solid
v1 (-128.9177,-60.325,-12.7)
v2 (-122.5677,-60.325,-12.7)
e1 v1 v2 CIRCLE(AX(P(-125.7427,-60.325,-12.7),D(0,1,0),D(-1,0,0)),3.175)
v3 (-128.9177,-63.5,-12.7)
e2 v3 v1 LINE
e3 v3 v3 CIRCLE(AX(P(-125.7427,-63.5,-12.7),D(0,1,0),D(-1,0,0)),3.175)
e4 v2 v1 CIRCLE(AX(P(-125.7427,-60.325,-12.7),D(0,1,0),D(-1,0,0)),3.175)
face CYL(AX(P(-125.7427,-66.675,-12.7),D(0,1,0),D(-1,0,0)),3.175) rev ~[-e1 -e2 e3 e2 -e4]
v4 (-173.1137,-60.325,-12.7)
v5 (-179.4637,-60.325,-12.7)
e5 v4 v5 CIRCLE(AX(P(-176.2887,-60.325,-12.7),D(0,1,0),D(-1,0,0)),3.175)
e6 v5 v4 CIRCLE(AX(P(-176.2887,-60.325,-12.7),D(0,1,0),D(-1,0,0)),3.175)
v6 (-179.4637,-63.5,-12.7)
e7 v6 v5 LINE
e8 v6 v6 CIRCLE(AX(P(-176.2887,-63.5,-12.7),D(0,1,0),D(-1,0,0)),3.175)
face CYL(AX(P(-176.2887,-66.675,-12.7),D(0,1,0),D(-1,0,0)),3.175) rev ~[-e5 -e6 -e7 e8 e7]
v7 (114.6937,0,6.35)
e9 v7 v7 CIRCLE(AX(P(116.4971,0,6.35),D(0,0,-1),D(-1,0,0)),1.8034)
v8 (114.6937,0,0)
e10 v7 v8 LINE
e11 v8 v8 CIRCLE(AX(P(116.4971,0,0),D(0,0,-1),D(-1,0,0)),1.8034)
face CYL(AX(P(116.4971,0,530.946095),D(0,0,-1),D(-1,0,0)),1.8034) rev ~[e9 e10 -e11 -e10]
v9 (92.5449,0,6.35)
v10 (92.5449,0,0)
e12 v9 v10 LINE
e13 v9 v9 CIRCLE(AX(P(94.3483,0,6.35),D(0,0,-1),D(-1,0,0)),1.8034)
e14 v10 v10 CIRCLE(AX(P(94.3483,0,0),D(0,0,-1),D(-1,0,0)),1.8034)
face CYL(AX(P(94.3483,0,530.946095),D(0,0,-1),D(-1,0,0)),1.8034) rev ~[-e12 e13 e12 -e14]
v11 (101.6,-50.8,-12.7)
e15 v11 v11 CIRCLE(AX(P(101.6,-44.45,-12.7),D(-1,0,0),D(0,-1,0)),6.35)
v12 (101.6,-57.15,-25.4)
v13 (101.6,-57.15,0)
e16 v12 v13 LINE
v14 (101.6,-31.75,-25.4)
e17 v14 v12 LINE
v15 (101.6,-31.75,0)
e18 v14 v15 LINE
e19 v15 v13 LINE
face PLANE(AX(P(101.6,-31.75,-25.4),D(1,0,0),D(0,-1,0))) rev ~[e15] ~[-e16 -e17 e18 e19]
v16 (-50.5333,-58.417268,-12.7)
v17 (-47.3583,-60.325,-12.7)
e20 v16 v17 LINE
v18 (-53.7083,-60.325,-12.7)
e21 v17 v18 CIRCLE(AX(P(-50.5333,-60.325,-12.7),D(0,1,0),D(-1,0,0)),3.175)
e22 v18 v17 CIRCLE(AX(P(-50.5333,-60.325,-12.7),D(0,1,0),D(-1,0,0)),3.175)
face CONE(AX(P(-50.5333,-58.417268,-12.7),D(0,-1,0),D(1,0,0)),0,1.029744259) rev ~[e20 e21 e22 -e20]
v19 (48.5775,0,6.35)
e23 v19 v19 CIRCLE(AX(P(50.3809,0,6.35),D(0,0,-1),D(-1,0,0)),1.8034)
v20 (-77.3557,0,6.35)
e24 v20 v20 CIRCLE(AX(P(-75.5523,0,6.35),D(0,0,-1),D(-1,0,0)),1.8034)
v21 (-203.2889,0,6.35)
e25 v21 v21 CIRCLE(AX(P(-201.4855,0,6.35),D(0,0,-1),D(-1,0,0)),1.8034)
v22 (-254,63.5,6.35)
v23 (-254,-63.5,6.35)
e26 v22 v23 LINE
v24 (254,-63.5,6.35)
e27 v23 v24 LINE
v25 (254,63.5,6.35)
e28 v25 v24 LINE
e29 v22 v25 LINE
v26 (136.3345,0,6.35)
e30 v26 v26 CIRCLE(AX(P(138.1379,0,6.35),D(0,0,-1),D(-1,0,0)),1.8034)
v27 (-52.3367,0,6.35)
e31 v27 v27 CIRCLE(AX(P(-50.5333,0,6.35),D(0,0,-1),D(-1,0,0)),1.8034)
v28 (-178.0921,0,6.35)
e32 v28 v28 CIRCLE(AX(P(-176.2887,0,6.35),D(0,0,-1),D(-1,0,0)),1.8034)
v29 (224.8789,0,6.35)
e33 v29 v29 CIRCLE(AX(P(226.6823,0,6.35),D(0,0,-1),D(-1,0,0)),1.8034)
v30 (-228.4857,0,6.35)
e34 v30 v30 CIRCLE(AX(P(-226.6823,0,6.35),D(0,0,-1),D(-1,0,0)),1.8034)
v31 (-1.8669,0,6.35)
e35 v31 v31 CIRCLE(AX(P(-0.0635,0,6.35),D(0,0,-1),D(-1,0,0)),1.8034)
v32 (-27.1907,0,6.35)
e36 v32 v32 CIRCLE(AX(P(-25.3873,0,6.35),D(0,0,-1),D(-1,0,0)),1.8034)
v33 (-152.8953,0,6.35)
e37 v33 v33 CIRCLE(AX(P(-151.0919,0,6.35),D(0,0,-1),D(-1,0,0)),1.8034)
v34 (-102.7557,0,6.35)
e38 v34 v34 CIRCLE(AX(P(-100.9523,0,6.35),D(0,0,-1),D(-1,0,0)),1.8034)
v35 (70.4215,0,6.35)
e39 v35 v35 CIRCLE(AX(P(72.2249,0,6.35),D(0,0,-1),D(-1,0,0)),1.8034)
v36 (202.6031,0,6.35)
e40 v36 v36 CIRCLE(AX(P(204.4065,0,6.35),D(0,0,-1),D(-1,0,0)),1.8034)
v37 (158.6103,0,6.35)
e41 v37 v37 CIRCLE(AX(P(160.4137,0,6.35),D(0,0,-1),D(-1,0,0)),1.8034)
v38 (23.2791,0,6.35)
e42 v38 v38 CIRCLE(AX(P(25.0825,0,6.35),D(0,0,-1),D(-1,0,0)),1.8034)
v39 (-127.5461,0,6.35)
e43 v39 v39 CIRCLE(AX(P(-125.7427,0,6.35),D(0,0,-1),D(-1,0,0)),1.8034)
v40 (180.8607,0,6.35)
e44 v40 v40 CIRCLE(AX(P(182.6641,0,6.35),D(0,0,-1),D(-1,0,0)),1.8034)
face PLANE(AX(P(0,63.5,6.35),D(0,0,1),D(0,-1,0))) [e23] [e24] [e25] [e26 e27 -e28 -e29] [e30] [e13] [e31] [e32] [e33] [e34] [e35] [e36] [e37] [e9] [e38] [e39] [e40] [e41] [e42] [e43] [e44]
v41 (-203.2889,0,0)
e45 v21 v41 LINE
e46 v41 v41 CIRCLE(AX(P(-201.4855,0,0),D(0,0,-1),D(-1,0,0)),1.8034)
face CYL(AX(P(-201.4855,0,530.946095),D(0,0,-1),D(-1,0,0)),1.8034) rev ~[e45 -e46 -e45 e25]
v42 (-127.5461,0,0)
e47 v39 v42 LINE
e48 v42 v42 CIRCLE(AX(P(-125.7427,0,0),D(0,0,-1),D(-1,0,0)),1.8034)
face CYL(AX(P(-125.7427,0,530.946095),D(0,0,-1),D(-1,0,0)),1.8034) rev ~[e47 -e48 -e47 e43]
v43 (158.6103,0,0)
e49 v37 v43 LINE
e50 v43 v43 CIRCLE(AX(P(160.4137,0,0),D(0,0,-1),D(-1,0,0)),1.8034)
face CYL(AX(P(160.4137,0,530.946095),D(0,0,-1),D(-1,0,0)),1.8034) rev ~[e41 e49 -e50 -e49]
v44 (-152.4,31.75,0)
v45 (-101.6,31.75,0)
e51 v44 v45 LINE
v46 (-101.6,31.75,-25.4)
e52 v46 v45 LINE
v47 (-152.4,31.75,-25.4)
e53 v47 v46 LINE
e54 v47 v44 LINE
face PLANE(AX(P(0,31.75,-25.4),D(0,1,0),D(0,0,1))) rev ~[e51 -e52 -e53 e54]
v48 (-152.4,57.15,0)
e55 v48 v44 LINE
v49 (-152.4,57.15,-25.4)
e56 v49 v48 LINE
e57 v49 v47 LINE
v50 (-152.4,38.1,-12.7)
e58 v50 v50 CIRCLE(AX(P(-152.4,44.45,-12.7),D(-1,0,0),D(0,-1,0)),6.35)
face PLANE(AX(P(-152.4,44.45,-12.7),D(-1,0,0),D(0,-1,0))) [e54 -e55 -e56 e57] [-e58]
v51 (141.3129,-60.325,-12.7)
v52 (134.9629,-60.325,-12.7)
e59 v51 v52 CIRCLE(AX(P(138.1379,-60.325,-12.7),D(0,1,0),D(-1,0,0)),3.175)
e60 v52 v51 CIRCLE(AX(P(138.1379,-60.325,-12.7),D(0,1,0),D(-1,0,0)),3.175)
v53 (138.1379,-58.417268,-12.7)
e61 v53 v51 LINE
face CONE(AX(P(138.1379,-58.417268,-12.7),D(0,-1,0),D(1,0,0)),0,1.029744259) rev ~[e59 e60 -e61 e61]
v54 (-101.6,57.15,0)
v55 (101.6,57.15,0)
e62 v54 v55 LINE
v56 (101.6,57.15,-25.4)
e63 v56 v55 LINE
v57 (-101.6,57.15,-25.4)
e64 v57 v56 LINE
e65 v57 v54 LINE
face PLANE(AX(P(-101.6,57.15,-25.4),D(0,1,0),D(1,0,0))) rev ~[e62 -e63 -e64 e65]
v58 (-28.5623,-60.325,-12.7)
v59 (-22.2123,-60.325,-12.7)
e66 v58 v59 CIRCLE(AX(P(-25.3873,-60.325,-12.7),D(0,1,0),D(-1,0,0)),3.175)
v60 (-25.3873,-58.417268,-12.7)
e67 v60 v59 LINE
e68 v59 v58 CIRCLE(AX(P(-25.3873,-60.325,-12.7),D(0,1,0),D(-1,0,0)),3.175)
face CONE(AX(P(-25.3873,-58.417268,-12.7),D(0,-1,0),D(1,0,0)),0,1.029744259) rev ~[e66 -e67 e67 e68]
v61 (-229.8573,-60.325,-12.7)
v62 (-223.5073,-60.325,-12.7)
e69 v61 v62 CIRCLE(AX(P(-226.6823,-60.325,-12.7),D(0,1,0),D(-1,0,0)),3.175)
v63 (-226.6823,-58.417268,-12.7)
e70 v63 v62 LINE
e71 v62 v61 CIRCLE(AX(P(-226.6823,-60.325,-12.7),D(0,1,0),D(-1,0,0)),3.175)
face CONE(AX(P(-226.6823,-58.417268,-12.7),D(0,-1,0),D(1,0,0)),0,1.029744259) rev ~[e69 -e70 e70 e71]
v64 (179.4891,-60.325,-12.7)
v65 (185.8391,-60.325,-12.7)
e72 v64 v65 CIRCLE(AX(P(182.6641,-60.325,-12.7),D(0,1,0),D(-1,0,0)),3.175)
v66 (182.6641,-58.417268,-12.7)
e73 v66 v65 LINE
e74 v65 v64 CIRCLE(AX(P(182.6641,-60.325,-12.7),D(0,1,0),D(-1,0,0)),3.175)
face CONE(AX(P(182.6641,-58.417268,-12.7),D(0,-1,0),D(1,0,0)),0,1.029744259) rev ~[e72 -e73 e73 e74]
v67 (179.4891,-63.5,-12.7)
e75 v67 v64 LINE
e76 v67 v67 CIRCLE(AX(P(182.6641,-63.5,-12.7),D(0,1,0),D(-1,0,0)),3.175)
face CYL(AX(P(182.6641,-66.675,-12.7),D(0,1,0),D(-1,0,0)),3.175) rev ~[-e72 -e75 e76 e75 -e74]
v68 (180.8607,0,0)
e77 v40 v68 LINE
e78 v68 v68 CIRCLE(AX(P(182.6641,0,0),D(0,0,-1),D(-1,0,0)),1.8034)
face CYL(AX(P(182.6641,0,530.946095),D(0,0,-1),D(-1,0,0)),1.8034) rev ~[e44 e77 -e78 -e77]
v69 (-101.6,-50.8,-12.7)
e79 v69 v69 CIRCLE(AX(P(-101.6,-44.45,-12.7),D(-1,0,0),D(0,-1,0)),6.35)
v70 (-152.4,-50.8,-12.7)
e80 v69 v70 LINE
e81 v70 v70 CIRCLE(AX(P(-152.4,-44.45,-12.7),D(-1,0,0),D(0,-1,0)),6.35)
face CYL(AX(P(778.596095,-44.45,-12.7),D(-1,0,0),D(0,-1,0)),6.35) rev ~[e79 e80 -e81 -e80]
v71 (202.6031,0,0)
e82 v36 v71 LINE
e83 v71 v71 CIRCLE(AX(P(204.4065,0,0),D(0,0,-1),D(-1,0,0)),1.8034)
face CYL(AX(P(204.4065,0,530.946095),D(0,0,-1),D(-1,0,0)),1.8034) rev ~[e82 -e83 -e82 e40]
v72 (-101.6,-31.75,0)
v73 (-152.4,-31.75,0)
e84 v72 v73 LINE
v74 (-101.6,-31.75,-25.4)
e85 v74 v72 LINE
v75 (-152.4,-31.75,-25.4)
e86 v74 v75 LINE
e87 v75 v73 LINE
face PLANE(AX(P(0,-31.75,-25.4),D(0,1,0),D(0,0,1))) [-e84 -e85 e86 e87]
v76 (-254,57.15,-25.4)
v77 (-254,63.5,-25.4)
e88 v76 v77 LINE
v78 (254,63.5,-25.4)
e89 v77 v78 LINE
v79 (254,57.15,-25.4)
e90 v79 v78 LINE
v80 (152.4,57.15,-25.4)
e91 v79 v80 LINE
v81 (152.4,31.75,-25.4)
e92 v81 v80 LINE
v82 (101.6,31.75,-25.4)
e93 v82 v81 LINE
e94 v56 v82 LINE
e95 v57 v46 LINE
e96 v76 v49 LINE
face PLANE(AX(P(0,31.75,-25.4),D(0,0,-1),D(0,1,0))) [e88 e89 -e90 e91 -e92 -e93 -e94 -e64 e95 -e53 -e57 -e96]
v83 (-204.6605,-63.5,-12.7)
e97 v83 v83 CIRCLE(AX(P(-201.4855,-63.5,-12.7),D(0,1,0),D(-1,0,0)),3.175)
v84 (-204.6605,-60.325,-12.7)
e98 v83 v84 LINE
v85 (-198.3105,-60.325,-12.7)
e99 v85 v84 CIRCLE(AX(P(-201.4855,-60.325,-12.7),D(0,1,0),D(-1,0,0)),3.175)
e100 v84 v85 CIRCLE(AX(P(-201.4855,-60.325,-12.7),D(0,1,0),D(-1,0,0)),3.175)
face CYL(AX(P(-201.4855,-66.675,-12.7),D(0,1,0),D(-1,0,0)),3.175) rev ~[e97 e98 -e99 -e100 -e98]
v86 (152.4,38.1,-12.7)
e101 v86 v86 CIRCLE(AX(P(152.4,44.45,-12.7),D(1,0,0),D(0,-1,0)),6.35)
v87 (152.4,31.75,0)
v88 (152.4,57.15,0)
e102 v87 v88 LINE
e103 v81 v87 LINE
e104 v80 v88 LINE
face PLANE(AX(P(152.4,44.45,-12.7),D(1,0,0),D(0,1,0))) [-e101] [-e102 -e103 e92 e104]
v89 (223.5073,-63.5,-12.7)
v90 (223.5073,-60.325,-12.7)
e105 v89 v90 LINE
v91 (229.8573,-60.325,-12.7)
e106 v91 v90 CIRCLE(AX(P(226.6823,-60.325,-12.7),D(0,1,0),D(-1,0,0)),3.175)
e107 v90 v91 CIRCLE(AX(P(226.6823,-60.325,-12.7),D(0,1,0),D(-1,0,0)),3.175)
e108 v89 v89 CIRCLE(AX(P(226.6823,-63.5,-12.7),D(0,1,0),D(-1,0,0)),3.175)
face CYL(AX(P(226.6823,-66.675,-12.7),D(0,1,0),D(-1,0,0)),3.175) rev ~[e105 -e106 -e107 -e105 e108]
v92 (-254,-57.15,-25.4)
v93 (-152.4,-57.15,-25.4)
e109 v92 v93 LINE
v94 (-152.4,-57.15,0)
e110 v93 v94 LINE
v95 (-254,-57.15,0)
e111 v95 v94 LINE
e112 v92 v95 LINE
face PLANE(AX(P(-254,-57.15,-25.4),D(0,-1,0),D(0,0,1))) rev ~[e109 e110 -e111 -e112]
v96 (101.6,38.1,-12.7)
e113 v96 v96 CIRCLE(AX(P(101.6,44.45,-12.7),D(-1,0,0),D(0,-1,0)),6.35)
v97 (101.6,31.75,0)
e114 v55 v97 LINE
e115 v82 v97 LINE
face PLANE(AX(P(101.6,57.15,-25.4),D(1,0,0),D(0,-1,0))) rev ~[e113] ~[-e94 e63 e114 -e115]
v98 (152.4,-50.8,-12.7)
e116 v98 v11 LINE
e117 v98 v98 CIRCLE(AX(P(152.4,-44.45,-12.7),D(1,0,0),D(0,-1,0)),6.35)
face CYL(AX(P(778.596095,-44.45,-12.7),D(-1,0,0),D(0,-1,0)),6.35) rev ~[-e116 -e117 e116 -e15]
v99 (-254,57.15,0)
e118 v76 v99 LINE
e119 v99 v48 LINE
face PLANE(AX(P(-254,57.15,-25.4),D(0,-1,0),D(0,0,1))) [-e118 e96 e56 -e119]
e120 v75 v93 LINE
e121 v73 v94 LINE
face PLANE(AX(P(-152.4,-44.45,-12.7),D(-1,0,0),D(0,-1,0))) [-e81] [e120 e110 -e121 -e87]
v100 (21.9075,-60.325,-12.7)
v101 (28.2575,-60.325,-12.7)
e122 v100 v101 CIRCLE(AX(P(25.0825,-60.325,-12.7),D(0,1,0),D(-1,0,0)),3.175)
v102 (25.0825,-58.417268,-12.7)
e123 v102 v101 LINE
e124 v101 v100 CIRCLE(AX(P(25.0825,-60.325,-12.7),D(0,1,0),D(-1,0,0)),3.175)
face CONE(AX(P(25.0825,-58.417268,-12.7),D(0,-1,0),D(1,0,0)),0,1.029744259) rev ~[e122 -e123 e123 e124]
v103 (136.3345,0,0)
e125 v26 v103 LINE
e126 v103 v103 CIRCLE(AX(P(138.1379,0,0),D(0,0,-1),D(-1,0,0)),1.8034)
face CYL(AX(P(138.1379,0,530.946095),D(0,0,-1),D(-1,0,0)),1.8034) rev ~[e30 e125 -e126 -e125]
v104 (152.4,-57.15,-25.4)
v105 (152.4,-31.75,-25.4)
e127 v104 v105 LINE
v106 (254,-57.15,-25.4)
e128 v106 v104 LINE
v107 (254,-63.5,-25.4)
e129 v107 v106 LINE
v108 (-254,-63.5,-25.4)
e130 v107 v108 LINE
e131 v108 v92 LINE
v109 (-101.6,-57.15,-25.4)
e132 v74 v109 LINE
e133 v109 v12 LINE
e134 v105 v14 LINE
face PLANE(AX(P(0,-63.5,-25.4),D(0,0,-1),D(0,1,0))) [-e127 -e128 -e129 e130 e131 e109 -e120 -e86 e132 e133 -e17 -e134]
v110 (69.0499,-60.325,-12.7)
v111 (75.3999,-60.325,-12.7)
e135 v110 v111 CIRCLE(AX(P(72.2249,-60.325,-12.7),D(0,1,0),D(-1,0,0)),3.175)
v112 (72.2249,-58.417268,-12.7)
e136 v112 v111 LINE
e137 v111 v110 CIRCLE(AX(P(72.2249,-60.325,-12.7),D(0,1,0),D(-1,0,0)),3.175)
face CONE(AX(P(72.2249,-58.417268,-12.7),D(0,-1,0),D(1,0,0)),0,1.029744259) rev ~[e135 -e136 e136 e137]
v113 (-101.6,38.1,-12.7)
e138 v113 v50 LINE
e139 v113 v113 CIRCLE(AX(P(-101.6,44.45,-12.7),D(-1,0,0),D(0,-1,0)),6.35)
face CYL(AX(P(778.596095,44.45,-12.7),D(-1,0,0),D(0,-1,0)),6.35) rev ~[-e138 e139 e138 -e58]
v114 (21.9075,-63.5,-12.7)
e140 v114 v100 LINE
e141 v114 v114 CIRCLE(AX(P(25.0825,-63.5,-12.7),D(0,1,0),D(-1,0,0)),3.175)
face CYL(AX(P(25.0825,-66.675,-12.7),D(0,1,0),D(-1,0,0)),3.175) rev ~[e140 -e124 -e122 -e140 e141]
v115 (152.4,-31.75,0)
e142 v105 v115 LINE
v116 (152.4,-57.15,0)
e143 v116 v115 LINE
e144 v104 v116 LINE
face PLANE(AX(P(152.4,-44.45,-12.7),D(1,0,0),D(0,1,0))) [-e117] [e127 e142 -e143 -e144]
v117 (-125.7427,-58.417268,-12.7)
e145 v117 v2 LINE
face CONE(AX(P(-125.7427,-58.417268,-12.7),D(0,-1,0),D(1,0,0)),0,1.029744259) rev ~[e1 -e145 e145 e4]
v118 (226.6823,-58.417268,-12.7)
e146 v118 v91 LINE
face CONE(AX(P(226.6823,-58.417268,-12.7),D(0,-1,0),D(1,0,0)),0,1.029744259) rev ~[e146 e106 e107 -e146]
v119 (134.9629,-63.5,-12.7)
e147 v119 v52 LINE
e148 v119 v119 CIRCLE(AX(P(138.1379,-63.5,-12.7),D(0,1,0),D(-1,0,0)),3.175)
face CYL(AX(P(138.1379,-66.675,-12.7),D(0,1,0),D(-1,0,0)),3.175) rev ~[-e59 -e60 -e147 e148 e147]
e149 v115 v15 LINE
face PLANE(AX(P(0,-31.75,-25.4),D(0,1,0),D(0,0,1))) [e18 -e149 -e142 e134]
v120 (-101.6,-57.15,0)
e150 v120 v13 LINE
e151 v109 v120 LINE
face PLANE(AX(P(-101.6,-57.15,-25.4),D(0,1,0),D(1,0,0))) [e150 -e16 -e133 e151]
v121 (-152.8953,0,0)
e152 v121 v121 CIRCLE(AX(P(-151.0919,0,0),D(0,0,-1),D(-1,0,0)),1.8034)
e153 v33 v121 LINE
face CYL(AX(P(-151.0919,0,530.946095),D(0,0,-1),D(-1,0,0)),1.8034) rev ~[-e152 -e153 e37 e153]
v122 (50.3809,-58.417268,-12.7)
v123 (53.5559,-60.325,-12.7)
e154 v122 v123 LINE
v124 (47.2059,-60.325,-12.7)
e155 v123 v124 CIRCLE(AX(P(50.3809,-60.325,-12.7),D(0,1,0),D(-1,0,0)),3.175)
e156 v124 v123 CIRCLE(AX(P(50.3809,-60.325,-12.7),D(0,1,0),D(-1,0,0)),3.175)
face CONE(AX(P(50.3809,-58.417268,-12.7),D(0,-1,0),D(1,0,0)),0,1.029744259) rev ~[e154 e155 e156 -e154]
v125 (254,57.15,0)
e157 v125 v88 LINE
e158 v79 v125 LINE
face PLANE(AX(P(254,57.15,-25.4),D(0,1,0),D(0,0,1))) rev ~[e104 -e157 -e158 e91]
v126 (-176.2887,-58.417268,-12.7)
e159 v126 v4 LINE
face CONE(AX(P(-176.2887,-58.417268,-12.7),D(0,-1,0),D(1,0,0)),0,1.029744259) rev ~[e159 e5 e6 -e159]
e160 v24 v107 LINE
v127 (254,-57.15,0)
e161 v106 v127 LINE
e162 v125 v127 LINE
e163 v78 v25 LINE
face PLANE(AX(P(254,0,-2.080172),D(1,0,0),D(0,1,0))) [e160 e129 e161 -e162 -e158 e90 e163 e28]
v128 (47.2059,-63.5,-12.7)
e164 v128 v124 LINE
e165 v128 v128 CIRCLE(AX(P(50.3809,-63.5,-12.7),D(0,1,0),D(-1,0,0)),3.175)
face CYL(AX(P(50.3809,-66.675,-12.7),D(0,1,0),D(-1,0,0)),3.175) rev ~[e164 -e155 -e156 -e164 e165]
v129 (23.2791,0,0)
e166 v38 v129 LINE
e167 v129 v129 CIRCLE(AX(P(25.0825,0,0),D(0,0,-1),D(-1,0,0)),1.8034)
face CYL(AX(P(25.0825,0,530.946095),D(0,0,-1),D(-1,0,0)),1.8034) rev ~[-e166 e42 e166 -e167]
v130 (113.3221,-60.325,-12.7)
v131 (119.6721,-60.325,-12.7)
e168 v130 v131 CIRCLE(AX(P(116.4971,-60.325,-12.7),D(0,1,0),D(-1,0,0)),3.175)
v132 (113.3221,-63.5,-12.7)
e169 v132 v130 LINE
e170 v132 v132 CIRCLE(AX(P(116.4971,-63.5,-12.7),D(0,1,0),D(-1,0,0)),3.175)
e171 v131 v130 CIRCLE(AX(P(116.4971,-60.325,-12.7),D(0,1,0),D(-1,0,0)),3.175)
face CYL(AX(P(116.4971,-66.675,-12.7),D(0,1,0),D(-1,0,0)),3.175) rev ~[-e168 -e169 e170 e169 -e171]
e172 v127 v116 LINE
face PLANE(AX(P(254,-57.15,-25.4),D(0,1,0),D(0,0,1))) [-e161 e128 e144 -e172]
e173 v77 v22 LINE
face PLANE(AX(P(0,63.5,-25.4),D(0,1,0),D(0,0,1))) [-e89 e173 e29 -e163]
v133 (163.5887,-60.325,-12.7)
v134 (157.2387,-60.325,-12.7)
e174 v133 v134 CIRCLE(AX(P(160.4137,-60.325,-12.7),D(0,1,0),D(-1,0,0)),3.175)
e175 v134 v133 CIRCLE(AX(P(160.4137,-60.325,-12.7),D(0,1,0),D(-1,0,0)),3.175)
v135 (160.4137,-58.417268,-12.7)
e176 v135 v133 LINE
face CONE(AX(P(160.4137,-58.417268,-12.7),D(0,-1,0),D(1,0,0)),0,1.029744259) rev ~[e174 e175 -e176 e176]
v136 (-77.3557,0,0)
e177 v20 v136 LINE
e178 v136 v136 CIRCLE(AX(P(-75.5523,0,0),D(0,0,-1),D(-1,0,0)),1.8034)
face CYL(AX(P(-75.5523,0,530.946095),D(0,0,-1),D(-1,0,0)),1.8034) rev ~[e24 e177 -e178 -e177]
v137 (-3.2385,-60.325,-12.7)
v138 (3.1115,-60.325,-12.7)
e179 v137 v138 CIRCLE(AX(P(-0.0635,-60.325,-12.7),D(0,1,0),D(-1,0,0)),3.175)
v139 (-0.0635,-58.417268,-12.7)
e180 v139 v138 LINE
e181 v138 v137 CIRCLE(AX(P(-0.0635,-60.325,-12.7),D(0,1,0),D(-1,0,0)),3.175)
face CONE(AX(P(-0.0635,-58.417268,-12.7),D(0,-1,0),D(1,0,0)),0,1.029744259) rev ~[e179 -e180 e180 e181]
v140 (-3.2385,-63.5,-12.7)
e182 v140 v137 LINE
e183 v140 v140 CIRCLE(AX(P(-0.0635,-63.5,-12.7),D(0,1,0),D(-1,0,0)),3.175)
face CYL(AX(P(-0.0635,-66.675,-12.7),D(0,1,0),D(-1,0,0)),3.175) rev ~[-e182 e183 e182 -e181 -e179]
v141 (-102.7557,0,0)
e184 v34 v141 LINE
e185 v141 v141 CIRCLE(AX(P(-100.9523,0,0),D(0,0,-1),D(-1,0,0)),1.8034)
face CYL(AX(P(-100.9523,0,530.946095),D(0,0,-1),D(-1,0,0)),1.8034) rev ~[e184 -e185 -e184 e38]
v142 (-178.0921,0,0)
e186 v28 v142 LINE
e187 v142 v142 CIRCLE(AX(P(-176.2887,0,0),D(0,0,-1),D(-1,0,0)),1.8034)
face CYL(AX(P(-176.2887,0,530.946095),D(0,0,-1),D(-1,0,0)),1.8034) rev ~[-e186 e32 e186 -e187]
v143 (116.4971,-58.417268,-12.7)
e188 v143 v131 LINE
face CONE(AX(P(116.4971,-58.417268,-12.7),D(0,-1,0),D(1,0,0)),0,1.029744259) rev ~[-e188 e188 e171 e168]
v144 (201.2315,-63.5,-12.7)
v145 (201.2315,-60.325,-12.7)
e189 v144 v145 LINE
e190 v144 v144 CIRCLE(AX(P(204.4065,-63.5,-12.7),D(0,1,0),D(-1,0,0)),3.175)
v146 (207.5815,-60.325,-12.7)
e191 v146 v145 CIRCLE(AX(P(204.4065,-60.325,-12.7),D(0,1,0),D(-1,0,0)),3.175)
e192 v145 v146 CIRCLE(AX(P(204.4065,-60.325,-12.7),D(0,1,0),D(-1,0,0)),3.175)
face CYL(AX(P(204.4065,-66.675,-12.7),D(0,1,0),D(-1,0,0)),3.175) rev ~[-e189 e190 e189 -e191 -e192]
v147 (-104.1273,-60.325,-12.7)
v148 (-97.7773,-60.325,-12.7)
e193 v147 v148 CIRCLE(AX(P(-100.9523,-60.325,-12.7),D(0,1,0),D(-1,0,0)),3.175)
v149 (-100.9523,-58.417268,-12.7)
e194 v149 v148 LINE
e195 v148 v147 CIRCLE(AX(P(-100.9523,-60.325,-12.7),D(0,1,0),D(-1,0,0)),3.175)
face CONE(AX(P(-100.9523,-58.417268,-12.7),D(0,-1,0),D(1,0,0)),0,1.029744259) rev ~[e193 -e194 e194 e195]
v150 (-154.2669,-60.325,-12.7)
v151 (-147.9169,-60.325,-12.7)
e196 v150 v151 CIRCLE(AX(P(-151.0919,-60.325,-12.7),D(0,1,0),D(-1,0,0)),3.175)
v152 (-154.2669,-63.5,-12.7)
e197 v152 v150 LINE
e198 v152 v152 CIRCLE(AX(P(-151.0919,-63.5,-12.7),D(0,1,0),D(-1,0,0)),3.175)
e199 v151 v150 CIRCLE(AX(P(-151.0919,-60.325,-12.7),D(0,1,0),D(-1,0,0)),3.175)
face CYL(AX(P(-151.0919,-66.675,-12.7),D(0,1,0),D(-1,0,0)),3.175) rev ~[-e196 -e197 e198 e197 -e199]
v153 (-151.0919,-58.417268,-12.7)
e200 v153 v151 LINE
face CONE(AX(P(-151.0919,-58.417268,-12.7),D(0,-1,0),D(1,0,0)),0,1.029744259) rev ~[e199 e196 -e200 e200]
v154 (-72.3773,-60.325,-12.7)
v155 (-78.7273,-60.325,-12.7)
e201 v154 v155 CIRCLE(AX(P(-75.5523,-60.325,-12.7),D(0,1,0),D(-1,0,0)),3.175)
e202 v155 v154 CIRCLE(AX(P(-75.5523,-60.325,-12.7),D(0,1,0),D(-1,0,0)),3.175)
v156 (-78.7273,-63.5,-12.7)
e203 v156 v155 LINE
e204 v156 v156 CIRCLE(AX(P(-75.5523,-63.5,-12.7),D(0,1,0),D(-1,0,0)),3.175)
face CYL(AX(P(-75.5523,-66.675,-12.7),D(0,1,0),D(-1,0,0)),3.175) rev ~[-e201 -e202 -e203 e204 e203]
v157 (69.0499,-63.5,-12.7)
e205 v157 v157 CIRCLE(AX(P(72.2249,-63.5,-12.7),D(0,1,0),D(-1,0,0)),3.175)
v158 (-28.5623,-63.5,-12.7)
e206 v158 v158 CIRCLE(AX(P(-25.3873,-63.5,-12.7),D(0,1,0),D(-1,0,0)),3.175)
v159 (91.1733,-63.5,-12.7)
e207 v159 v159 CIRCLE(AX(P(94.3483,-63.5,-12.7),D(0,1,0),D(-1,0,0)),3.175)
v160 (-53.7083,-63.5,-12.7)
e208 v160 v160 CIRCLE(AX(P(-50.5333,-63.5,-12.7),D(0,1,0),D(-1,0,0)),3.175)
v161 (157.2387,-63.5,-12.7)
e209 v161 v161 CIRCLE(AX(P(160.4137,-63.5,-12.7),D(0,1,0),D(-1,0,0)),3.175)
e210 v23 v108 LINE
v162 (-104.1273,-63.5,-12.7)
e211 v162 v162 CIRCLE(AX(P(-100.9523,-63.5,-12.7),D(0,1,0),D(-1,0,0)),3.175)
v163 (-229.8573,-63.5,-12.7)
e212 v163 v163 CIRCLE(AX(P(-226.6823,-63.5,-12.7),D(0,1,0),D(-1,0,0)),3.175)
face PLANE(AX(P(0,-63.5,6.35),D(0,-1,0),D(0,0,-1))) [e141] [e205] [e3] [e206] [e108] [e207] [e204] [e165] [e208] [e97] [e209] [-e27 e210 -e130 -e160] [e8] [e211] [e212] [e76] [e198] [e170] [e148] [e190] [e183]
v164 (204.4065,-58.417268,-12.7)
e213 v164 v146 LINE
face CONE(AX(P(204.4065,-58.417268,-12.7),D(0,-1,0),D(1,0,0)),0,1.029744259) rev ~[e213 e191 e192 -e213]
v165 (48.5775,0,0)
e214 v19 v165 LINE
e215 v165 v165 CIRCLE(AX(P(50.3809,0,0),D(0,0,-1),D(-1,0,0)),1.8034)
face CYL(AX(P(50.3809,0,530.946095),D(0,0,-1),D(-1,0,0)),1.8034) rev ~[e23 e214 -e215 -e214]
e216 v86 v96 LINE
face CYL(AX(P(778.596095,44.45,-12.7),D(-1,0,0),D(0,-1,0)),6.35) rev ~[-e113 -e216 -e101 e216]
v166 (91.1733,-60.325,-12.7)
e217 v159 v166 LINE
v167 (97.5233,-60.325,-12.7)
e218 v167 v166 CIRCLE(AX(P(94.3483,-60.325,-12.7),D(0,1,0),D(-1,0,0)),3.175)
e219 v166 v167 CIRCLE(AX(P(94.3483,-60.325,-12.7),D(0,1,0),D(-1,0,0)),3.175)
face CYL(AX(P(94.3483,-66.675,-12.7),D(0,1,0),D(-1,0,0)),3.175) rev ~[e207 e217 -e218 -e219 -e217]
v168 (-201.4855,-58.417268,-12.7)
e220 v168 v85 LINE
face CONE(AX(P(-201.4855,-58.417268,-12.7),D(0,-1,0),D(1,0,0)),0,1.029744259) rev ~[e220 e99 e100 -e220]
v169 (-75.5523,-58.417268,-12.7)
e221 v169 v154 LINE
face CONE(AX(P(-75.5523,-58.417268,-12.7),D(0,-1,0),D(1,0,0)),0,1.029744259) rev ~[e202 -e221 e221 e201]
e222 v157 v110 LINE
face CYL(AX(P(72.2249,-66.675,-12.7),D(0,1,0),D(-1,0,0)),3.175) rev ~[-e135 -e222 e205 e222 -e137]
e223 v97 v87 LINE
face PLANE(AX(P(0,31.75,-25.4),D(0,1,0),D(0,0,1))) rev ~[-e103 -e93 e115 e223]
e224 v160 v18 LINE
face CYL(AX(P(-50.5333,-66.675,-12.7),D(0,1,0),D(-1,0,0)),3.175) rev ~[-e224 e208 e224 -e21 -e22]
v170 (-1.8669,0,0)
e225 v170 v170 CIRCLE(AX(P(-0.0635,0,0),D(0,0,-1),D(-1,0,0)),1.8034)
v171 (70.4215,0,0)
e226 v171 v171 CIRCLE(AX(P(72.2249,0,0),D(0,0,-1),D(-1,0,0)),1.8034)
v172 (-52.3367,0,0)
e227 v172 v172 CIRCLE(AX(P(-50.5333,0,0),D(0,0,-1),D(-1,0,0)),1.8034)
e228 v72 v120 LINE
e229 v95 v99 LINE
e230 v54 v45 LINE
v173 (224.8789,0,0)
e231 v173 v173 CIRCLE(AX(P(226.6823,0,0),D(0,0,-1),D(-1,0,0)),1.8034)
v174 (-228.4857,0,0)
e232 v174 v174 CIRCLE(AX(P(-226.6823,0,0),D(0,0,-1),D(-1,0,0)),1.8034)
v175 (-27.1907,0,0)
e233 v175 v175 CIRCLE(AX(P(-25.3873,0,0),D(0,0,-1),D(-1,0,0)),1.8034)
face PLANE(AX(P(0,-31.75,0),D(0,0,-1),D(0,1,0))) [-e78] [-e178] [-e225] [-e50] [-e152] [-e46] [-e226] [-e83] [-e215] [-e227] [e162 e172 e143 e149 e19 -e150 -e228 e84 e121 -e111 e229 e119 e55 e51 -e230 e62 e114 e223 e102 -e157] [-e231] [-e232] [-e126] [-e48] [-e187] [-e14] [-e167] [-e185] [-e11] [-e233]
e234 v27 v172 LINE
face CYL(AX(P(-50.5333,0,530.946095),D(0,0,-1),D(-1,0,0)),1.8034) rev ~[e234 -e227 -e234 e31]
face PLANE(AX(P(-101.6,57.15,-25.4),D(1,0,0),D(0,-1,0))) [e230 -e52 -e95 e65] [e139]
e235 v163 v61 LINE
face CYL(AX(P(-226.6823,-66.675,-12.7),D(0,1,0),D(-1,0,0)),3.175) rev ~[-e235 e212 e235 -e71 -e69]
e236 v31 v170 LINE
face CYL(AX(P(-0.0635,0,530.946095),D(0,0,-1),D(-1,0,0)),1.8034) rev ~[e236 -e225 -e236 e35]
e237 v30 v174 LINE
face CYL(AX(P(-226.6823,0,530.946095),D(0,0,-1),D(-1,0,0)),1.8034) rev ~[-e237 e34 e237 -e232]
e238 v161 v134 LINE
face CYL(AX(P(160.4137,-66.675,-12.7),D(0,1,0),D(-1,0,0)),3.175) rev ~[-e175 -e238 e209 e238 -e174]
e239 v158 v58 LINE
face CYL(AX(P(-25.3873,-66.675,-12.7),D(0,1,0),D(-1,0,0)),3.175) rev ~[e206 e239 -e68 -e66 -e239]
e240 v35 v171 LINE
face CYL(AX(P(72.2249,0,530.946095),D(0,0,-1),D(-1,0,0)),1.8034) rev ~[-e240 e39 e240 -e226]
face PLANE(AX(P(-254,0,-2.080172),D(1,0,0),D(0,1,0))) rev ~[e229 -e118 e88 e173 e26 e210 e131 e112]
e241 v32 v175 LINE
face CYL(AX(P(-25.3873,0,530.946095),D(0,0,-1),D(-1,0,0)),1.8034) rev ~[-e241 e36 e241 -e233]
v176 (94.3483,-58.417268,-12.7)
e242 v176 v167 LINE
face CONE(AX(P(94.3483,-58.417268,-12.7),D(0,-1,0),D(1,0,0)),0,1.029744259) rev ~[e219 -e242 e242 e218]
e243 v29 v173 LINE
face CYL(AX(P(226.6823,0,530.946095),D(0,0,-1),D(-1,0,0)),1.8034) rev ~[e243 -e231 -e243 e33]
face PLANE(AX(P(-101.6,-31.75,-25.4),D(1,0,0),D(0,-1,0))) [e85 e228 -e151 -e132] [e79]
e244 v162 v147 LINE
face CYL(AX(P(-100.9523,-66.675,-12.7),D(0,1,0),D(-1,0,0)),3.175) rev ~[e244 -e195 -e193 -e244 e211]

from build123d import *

# Parameters (mm, degrees)
F0_W          = 25.4
F0_H          = 25.4
F1_DEPTH      = 254
F1_DEPTH_BACK = 254
F3_D          = 3.6068
F6_D          = 12.7
F7_D          = 6.35
F7_DEPTH      = 3.175
F7_TIP        = 1.9077324654
F8_W          = 25.4
F8_H          = 25.4
F8_R          = 6.35
F9_DEPTH      = 101.6
F10_W         = 25.4
F10_H         = 25.4
F10_R         = 6.35
F11_DEPTH     = 101.6
F12_W         = 203.2
F12_H         = 25.4
F13_DEPTH     = 25.4


with BuildPart() as f1:
    # F0 (on Right) → F1 (new body, two sides)
    with BuildSketch(Plane.YZ) as f1_sk:
        Polygon((-57.15, -25.4), (-57.15, 0), (-31.75, 0), (31.75, 0), (57.15, 0), (57.15, -25.4), (63.5, -25.4), (63.5, 6.35), (-63.5, 6.35), (-63.5, -25.4), align=None)
        with Locations((-44.45, -12.7)):
            Rectangle(F0_W, F0_H)
        with Locations((44.45, -12.7)):
            Rectangle(F0_W, F0_H)
    extrude(amount=F1_DEPTH)
    extrude(f1_sk.sketch, amount=-F1_DEPTH_BACK)

    # F3 (through all)
    with Locations(Plane.XY.offset(6.35)):
        with Locations((-226.6823, 0), (-201.4855, 0), (-176.2887, 0), (-151.0919, 0), (-125.7427, 0), (-100.9523, 0), (-75.5523, 0), (-50.5333, 0), (-25.3873, 0), (-0.0635, 0), (25.0825, 0), (50.3809, 0), (72.2249, 0), (94.3483, 0), (116.4971, 0), (138.1379, 0), (160.4137, 0), (182.6641, 0), (204.4065, 0), (226.6823, 0)):
            Hole(F3_D / 2)

    # F6 (through all)
    with Locations(Plane.YZ.offset(254)):
        with Locations((-44.45, -12.7), (44.45, -12.7)):
            Hole(F6_D / 2)

    # F7
    with Locations(Plane.XZ.offset(63.5)):
        with Locations((-226.6823, -12.7), (-201.4855, -12.7), (-176.2887, -12.7), (-151.0919, -12.7), (-125.7427, -12.7), (-100.9523, -12.7), (-75.5523, -12.7), (-50.5333, -12.7), (-25.3873, -12.7), (-0.0635, -12.7), (25.0825, -12.7), (50.3809, -12.7), (72.2249, -12.7), (94.3483, -12.7), (116.4971, -12.7), (138.1379, -12.7), (160.4137, -12.7), (182.6641, -12.7), (204.4065, -12.7), (226.6823, -12.7)):
            Hole(F7_D / 2, depth=F7_DEPTH)
            with Locations((0, 0, -(F7_DEPTH + F7_TIP / 2))):  # 118° drill point
                Cone(0, F7_D / 2, F7_TIP, mode=Mode.SUBTRACT)

    # F8 (on face) → F9 (cut)
    with BuildSketch(Plane.YZ.offset(254)):
        with Locations((44.45, -12.7)):
            Rectangle(F8_W, F8_H)
        with Locations((44.45, -12.7)):
            Circle(F8_R, mode=Mode.SUBTRACT)
        with Locations((-44.45, -12.7)):
            Rectangle(F8_W, F8_H)
        with Locations((-44.45, -12.7)):
            Circle(F8_R, mode=Mode.SUBTRACT)
    extrude(amount=-F9_DEPTH, mode=Mode.SUBTRACT)

    # F10 (on face) → F11 (cut)
    with BuildSketch(Plane(origin=(-254, 0, 0), x_dir=(0, -1, 0), z_dir=(-1, 0, 0))):
        with Locations((-44.45, -12.7)):
            Rectangle(F10_W, F10_H)
        with Locations((-44.45, -12.7)):
            Circle(F10_R, mode=Mode.SUBTRACT)
        with Locations((44.45, -12.7)):
            Rectangle(F10_W, F10_H)
        with Locations((44.45, -12.7)):
            Circle(F10_R, mode=Mode.SUBTRACT)
    extrude(amount=-F11_DEPTH, mode=Mode.SUBTRACT)

    # F12 (on face) → F13 (cut)
    with BuildSketch(Plane(origin=(0, 0, -25.4), x_dir=(1, 0, 0), z_dir=(0, 0, -1))):
        with Locations((0, -44.45)):
            Rectangle(F12_W, F12_H)
        with Locations((0, 44.45)):
            Rectangle(F12_W, F12_H)
    extrude(amount=-F13_DEPTH, mode=Mode.SUBTRACT)


solid = f1.part
